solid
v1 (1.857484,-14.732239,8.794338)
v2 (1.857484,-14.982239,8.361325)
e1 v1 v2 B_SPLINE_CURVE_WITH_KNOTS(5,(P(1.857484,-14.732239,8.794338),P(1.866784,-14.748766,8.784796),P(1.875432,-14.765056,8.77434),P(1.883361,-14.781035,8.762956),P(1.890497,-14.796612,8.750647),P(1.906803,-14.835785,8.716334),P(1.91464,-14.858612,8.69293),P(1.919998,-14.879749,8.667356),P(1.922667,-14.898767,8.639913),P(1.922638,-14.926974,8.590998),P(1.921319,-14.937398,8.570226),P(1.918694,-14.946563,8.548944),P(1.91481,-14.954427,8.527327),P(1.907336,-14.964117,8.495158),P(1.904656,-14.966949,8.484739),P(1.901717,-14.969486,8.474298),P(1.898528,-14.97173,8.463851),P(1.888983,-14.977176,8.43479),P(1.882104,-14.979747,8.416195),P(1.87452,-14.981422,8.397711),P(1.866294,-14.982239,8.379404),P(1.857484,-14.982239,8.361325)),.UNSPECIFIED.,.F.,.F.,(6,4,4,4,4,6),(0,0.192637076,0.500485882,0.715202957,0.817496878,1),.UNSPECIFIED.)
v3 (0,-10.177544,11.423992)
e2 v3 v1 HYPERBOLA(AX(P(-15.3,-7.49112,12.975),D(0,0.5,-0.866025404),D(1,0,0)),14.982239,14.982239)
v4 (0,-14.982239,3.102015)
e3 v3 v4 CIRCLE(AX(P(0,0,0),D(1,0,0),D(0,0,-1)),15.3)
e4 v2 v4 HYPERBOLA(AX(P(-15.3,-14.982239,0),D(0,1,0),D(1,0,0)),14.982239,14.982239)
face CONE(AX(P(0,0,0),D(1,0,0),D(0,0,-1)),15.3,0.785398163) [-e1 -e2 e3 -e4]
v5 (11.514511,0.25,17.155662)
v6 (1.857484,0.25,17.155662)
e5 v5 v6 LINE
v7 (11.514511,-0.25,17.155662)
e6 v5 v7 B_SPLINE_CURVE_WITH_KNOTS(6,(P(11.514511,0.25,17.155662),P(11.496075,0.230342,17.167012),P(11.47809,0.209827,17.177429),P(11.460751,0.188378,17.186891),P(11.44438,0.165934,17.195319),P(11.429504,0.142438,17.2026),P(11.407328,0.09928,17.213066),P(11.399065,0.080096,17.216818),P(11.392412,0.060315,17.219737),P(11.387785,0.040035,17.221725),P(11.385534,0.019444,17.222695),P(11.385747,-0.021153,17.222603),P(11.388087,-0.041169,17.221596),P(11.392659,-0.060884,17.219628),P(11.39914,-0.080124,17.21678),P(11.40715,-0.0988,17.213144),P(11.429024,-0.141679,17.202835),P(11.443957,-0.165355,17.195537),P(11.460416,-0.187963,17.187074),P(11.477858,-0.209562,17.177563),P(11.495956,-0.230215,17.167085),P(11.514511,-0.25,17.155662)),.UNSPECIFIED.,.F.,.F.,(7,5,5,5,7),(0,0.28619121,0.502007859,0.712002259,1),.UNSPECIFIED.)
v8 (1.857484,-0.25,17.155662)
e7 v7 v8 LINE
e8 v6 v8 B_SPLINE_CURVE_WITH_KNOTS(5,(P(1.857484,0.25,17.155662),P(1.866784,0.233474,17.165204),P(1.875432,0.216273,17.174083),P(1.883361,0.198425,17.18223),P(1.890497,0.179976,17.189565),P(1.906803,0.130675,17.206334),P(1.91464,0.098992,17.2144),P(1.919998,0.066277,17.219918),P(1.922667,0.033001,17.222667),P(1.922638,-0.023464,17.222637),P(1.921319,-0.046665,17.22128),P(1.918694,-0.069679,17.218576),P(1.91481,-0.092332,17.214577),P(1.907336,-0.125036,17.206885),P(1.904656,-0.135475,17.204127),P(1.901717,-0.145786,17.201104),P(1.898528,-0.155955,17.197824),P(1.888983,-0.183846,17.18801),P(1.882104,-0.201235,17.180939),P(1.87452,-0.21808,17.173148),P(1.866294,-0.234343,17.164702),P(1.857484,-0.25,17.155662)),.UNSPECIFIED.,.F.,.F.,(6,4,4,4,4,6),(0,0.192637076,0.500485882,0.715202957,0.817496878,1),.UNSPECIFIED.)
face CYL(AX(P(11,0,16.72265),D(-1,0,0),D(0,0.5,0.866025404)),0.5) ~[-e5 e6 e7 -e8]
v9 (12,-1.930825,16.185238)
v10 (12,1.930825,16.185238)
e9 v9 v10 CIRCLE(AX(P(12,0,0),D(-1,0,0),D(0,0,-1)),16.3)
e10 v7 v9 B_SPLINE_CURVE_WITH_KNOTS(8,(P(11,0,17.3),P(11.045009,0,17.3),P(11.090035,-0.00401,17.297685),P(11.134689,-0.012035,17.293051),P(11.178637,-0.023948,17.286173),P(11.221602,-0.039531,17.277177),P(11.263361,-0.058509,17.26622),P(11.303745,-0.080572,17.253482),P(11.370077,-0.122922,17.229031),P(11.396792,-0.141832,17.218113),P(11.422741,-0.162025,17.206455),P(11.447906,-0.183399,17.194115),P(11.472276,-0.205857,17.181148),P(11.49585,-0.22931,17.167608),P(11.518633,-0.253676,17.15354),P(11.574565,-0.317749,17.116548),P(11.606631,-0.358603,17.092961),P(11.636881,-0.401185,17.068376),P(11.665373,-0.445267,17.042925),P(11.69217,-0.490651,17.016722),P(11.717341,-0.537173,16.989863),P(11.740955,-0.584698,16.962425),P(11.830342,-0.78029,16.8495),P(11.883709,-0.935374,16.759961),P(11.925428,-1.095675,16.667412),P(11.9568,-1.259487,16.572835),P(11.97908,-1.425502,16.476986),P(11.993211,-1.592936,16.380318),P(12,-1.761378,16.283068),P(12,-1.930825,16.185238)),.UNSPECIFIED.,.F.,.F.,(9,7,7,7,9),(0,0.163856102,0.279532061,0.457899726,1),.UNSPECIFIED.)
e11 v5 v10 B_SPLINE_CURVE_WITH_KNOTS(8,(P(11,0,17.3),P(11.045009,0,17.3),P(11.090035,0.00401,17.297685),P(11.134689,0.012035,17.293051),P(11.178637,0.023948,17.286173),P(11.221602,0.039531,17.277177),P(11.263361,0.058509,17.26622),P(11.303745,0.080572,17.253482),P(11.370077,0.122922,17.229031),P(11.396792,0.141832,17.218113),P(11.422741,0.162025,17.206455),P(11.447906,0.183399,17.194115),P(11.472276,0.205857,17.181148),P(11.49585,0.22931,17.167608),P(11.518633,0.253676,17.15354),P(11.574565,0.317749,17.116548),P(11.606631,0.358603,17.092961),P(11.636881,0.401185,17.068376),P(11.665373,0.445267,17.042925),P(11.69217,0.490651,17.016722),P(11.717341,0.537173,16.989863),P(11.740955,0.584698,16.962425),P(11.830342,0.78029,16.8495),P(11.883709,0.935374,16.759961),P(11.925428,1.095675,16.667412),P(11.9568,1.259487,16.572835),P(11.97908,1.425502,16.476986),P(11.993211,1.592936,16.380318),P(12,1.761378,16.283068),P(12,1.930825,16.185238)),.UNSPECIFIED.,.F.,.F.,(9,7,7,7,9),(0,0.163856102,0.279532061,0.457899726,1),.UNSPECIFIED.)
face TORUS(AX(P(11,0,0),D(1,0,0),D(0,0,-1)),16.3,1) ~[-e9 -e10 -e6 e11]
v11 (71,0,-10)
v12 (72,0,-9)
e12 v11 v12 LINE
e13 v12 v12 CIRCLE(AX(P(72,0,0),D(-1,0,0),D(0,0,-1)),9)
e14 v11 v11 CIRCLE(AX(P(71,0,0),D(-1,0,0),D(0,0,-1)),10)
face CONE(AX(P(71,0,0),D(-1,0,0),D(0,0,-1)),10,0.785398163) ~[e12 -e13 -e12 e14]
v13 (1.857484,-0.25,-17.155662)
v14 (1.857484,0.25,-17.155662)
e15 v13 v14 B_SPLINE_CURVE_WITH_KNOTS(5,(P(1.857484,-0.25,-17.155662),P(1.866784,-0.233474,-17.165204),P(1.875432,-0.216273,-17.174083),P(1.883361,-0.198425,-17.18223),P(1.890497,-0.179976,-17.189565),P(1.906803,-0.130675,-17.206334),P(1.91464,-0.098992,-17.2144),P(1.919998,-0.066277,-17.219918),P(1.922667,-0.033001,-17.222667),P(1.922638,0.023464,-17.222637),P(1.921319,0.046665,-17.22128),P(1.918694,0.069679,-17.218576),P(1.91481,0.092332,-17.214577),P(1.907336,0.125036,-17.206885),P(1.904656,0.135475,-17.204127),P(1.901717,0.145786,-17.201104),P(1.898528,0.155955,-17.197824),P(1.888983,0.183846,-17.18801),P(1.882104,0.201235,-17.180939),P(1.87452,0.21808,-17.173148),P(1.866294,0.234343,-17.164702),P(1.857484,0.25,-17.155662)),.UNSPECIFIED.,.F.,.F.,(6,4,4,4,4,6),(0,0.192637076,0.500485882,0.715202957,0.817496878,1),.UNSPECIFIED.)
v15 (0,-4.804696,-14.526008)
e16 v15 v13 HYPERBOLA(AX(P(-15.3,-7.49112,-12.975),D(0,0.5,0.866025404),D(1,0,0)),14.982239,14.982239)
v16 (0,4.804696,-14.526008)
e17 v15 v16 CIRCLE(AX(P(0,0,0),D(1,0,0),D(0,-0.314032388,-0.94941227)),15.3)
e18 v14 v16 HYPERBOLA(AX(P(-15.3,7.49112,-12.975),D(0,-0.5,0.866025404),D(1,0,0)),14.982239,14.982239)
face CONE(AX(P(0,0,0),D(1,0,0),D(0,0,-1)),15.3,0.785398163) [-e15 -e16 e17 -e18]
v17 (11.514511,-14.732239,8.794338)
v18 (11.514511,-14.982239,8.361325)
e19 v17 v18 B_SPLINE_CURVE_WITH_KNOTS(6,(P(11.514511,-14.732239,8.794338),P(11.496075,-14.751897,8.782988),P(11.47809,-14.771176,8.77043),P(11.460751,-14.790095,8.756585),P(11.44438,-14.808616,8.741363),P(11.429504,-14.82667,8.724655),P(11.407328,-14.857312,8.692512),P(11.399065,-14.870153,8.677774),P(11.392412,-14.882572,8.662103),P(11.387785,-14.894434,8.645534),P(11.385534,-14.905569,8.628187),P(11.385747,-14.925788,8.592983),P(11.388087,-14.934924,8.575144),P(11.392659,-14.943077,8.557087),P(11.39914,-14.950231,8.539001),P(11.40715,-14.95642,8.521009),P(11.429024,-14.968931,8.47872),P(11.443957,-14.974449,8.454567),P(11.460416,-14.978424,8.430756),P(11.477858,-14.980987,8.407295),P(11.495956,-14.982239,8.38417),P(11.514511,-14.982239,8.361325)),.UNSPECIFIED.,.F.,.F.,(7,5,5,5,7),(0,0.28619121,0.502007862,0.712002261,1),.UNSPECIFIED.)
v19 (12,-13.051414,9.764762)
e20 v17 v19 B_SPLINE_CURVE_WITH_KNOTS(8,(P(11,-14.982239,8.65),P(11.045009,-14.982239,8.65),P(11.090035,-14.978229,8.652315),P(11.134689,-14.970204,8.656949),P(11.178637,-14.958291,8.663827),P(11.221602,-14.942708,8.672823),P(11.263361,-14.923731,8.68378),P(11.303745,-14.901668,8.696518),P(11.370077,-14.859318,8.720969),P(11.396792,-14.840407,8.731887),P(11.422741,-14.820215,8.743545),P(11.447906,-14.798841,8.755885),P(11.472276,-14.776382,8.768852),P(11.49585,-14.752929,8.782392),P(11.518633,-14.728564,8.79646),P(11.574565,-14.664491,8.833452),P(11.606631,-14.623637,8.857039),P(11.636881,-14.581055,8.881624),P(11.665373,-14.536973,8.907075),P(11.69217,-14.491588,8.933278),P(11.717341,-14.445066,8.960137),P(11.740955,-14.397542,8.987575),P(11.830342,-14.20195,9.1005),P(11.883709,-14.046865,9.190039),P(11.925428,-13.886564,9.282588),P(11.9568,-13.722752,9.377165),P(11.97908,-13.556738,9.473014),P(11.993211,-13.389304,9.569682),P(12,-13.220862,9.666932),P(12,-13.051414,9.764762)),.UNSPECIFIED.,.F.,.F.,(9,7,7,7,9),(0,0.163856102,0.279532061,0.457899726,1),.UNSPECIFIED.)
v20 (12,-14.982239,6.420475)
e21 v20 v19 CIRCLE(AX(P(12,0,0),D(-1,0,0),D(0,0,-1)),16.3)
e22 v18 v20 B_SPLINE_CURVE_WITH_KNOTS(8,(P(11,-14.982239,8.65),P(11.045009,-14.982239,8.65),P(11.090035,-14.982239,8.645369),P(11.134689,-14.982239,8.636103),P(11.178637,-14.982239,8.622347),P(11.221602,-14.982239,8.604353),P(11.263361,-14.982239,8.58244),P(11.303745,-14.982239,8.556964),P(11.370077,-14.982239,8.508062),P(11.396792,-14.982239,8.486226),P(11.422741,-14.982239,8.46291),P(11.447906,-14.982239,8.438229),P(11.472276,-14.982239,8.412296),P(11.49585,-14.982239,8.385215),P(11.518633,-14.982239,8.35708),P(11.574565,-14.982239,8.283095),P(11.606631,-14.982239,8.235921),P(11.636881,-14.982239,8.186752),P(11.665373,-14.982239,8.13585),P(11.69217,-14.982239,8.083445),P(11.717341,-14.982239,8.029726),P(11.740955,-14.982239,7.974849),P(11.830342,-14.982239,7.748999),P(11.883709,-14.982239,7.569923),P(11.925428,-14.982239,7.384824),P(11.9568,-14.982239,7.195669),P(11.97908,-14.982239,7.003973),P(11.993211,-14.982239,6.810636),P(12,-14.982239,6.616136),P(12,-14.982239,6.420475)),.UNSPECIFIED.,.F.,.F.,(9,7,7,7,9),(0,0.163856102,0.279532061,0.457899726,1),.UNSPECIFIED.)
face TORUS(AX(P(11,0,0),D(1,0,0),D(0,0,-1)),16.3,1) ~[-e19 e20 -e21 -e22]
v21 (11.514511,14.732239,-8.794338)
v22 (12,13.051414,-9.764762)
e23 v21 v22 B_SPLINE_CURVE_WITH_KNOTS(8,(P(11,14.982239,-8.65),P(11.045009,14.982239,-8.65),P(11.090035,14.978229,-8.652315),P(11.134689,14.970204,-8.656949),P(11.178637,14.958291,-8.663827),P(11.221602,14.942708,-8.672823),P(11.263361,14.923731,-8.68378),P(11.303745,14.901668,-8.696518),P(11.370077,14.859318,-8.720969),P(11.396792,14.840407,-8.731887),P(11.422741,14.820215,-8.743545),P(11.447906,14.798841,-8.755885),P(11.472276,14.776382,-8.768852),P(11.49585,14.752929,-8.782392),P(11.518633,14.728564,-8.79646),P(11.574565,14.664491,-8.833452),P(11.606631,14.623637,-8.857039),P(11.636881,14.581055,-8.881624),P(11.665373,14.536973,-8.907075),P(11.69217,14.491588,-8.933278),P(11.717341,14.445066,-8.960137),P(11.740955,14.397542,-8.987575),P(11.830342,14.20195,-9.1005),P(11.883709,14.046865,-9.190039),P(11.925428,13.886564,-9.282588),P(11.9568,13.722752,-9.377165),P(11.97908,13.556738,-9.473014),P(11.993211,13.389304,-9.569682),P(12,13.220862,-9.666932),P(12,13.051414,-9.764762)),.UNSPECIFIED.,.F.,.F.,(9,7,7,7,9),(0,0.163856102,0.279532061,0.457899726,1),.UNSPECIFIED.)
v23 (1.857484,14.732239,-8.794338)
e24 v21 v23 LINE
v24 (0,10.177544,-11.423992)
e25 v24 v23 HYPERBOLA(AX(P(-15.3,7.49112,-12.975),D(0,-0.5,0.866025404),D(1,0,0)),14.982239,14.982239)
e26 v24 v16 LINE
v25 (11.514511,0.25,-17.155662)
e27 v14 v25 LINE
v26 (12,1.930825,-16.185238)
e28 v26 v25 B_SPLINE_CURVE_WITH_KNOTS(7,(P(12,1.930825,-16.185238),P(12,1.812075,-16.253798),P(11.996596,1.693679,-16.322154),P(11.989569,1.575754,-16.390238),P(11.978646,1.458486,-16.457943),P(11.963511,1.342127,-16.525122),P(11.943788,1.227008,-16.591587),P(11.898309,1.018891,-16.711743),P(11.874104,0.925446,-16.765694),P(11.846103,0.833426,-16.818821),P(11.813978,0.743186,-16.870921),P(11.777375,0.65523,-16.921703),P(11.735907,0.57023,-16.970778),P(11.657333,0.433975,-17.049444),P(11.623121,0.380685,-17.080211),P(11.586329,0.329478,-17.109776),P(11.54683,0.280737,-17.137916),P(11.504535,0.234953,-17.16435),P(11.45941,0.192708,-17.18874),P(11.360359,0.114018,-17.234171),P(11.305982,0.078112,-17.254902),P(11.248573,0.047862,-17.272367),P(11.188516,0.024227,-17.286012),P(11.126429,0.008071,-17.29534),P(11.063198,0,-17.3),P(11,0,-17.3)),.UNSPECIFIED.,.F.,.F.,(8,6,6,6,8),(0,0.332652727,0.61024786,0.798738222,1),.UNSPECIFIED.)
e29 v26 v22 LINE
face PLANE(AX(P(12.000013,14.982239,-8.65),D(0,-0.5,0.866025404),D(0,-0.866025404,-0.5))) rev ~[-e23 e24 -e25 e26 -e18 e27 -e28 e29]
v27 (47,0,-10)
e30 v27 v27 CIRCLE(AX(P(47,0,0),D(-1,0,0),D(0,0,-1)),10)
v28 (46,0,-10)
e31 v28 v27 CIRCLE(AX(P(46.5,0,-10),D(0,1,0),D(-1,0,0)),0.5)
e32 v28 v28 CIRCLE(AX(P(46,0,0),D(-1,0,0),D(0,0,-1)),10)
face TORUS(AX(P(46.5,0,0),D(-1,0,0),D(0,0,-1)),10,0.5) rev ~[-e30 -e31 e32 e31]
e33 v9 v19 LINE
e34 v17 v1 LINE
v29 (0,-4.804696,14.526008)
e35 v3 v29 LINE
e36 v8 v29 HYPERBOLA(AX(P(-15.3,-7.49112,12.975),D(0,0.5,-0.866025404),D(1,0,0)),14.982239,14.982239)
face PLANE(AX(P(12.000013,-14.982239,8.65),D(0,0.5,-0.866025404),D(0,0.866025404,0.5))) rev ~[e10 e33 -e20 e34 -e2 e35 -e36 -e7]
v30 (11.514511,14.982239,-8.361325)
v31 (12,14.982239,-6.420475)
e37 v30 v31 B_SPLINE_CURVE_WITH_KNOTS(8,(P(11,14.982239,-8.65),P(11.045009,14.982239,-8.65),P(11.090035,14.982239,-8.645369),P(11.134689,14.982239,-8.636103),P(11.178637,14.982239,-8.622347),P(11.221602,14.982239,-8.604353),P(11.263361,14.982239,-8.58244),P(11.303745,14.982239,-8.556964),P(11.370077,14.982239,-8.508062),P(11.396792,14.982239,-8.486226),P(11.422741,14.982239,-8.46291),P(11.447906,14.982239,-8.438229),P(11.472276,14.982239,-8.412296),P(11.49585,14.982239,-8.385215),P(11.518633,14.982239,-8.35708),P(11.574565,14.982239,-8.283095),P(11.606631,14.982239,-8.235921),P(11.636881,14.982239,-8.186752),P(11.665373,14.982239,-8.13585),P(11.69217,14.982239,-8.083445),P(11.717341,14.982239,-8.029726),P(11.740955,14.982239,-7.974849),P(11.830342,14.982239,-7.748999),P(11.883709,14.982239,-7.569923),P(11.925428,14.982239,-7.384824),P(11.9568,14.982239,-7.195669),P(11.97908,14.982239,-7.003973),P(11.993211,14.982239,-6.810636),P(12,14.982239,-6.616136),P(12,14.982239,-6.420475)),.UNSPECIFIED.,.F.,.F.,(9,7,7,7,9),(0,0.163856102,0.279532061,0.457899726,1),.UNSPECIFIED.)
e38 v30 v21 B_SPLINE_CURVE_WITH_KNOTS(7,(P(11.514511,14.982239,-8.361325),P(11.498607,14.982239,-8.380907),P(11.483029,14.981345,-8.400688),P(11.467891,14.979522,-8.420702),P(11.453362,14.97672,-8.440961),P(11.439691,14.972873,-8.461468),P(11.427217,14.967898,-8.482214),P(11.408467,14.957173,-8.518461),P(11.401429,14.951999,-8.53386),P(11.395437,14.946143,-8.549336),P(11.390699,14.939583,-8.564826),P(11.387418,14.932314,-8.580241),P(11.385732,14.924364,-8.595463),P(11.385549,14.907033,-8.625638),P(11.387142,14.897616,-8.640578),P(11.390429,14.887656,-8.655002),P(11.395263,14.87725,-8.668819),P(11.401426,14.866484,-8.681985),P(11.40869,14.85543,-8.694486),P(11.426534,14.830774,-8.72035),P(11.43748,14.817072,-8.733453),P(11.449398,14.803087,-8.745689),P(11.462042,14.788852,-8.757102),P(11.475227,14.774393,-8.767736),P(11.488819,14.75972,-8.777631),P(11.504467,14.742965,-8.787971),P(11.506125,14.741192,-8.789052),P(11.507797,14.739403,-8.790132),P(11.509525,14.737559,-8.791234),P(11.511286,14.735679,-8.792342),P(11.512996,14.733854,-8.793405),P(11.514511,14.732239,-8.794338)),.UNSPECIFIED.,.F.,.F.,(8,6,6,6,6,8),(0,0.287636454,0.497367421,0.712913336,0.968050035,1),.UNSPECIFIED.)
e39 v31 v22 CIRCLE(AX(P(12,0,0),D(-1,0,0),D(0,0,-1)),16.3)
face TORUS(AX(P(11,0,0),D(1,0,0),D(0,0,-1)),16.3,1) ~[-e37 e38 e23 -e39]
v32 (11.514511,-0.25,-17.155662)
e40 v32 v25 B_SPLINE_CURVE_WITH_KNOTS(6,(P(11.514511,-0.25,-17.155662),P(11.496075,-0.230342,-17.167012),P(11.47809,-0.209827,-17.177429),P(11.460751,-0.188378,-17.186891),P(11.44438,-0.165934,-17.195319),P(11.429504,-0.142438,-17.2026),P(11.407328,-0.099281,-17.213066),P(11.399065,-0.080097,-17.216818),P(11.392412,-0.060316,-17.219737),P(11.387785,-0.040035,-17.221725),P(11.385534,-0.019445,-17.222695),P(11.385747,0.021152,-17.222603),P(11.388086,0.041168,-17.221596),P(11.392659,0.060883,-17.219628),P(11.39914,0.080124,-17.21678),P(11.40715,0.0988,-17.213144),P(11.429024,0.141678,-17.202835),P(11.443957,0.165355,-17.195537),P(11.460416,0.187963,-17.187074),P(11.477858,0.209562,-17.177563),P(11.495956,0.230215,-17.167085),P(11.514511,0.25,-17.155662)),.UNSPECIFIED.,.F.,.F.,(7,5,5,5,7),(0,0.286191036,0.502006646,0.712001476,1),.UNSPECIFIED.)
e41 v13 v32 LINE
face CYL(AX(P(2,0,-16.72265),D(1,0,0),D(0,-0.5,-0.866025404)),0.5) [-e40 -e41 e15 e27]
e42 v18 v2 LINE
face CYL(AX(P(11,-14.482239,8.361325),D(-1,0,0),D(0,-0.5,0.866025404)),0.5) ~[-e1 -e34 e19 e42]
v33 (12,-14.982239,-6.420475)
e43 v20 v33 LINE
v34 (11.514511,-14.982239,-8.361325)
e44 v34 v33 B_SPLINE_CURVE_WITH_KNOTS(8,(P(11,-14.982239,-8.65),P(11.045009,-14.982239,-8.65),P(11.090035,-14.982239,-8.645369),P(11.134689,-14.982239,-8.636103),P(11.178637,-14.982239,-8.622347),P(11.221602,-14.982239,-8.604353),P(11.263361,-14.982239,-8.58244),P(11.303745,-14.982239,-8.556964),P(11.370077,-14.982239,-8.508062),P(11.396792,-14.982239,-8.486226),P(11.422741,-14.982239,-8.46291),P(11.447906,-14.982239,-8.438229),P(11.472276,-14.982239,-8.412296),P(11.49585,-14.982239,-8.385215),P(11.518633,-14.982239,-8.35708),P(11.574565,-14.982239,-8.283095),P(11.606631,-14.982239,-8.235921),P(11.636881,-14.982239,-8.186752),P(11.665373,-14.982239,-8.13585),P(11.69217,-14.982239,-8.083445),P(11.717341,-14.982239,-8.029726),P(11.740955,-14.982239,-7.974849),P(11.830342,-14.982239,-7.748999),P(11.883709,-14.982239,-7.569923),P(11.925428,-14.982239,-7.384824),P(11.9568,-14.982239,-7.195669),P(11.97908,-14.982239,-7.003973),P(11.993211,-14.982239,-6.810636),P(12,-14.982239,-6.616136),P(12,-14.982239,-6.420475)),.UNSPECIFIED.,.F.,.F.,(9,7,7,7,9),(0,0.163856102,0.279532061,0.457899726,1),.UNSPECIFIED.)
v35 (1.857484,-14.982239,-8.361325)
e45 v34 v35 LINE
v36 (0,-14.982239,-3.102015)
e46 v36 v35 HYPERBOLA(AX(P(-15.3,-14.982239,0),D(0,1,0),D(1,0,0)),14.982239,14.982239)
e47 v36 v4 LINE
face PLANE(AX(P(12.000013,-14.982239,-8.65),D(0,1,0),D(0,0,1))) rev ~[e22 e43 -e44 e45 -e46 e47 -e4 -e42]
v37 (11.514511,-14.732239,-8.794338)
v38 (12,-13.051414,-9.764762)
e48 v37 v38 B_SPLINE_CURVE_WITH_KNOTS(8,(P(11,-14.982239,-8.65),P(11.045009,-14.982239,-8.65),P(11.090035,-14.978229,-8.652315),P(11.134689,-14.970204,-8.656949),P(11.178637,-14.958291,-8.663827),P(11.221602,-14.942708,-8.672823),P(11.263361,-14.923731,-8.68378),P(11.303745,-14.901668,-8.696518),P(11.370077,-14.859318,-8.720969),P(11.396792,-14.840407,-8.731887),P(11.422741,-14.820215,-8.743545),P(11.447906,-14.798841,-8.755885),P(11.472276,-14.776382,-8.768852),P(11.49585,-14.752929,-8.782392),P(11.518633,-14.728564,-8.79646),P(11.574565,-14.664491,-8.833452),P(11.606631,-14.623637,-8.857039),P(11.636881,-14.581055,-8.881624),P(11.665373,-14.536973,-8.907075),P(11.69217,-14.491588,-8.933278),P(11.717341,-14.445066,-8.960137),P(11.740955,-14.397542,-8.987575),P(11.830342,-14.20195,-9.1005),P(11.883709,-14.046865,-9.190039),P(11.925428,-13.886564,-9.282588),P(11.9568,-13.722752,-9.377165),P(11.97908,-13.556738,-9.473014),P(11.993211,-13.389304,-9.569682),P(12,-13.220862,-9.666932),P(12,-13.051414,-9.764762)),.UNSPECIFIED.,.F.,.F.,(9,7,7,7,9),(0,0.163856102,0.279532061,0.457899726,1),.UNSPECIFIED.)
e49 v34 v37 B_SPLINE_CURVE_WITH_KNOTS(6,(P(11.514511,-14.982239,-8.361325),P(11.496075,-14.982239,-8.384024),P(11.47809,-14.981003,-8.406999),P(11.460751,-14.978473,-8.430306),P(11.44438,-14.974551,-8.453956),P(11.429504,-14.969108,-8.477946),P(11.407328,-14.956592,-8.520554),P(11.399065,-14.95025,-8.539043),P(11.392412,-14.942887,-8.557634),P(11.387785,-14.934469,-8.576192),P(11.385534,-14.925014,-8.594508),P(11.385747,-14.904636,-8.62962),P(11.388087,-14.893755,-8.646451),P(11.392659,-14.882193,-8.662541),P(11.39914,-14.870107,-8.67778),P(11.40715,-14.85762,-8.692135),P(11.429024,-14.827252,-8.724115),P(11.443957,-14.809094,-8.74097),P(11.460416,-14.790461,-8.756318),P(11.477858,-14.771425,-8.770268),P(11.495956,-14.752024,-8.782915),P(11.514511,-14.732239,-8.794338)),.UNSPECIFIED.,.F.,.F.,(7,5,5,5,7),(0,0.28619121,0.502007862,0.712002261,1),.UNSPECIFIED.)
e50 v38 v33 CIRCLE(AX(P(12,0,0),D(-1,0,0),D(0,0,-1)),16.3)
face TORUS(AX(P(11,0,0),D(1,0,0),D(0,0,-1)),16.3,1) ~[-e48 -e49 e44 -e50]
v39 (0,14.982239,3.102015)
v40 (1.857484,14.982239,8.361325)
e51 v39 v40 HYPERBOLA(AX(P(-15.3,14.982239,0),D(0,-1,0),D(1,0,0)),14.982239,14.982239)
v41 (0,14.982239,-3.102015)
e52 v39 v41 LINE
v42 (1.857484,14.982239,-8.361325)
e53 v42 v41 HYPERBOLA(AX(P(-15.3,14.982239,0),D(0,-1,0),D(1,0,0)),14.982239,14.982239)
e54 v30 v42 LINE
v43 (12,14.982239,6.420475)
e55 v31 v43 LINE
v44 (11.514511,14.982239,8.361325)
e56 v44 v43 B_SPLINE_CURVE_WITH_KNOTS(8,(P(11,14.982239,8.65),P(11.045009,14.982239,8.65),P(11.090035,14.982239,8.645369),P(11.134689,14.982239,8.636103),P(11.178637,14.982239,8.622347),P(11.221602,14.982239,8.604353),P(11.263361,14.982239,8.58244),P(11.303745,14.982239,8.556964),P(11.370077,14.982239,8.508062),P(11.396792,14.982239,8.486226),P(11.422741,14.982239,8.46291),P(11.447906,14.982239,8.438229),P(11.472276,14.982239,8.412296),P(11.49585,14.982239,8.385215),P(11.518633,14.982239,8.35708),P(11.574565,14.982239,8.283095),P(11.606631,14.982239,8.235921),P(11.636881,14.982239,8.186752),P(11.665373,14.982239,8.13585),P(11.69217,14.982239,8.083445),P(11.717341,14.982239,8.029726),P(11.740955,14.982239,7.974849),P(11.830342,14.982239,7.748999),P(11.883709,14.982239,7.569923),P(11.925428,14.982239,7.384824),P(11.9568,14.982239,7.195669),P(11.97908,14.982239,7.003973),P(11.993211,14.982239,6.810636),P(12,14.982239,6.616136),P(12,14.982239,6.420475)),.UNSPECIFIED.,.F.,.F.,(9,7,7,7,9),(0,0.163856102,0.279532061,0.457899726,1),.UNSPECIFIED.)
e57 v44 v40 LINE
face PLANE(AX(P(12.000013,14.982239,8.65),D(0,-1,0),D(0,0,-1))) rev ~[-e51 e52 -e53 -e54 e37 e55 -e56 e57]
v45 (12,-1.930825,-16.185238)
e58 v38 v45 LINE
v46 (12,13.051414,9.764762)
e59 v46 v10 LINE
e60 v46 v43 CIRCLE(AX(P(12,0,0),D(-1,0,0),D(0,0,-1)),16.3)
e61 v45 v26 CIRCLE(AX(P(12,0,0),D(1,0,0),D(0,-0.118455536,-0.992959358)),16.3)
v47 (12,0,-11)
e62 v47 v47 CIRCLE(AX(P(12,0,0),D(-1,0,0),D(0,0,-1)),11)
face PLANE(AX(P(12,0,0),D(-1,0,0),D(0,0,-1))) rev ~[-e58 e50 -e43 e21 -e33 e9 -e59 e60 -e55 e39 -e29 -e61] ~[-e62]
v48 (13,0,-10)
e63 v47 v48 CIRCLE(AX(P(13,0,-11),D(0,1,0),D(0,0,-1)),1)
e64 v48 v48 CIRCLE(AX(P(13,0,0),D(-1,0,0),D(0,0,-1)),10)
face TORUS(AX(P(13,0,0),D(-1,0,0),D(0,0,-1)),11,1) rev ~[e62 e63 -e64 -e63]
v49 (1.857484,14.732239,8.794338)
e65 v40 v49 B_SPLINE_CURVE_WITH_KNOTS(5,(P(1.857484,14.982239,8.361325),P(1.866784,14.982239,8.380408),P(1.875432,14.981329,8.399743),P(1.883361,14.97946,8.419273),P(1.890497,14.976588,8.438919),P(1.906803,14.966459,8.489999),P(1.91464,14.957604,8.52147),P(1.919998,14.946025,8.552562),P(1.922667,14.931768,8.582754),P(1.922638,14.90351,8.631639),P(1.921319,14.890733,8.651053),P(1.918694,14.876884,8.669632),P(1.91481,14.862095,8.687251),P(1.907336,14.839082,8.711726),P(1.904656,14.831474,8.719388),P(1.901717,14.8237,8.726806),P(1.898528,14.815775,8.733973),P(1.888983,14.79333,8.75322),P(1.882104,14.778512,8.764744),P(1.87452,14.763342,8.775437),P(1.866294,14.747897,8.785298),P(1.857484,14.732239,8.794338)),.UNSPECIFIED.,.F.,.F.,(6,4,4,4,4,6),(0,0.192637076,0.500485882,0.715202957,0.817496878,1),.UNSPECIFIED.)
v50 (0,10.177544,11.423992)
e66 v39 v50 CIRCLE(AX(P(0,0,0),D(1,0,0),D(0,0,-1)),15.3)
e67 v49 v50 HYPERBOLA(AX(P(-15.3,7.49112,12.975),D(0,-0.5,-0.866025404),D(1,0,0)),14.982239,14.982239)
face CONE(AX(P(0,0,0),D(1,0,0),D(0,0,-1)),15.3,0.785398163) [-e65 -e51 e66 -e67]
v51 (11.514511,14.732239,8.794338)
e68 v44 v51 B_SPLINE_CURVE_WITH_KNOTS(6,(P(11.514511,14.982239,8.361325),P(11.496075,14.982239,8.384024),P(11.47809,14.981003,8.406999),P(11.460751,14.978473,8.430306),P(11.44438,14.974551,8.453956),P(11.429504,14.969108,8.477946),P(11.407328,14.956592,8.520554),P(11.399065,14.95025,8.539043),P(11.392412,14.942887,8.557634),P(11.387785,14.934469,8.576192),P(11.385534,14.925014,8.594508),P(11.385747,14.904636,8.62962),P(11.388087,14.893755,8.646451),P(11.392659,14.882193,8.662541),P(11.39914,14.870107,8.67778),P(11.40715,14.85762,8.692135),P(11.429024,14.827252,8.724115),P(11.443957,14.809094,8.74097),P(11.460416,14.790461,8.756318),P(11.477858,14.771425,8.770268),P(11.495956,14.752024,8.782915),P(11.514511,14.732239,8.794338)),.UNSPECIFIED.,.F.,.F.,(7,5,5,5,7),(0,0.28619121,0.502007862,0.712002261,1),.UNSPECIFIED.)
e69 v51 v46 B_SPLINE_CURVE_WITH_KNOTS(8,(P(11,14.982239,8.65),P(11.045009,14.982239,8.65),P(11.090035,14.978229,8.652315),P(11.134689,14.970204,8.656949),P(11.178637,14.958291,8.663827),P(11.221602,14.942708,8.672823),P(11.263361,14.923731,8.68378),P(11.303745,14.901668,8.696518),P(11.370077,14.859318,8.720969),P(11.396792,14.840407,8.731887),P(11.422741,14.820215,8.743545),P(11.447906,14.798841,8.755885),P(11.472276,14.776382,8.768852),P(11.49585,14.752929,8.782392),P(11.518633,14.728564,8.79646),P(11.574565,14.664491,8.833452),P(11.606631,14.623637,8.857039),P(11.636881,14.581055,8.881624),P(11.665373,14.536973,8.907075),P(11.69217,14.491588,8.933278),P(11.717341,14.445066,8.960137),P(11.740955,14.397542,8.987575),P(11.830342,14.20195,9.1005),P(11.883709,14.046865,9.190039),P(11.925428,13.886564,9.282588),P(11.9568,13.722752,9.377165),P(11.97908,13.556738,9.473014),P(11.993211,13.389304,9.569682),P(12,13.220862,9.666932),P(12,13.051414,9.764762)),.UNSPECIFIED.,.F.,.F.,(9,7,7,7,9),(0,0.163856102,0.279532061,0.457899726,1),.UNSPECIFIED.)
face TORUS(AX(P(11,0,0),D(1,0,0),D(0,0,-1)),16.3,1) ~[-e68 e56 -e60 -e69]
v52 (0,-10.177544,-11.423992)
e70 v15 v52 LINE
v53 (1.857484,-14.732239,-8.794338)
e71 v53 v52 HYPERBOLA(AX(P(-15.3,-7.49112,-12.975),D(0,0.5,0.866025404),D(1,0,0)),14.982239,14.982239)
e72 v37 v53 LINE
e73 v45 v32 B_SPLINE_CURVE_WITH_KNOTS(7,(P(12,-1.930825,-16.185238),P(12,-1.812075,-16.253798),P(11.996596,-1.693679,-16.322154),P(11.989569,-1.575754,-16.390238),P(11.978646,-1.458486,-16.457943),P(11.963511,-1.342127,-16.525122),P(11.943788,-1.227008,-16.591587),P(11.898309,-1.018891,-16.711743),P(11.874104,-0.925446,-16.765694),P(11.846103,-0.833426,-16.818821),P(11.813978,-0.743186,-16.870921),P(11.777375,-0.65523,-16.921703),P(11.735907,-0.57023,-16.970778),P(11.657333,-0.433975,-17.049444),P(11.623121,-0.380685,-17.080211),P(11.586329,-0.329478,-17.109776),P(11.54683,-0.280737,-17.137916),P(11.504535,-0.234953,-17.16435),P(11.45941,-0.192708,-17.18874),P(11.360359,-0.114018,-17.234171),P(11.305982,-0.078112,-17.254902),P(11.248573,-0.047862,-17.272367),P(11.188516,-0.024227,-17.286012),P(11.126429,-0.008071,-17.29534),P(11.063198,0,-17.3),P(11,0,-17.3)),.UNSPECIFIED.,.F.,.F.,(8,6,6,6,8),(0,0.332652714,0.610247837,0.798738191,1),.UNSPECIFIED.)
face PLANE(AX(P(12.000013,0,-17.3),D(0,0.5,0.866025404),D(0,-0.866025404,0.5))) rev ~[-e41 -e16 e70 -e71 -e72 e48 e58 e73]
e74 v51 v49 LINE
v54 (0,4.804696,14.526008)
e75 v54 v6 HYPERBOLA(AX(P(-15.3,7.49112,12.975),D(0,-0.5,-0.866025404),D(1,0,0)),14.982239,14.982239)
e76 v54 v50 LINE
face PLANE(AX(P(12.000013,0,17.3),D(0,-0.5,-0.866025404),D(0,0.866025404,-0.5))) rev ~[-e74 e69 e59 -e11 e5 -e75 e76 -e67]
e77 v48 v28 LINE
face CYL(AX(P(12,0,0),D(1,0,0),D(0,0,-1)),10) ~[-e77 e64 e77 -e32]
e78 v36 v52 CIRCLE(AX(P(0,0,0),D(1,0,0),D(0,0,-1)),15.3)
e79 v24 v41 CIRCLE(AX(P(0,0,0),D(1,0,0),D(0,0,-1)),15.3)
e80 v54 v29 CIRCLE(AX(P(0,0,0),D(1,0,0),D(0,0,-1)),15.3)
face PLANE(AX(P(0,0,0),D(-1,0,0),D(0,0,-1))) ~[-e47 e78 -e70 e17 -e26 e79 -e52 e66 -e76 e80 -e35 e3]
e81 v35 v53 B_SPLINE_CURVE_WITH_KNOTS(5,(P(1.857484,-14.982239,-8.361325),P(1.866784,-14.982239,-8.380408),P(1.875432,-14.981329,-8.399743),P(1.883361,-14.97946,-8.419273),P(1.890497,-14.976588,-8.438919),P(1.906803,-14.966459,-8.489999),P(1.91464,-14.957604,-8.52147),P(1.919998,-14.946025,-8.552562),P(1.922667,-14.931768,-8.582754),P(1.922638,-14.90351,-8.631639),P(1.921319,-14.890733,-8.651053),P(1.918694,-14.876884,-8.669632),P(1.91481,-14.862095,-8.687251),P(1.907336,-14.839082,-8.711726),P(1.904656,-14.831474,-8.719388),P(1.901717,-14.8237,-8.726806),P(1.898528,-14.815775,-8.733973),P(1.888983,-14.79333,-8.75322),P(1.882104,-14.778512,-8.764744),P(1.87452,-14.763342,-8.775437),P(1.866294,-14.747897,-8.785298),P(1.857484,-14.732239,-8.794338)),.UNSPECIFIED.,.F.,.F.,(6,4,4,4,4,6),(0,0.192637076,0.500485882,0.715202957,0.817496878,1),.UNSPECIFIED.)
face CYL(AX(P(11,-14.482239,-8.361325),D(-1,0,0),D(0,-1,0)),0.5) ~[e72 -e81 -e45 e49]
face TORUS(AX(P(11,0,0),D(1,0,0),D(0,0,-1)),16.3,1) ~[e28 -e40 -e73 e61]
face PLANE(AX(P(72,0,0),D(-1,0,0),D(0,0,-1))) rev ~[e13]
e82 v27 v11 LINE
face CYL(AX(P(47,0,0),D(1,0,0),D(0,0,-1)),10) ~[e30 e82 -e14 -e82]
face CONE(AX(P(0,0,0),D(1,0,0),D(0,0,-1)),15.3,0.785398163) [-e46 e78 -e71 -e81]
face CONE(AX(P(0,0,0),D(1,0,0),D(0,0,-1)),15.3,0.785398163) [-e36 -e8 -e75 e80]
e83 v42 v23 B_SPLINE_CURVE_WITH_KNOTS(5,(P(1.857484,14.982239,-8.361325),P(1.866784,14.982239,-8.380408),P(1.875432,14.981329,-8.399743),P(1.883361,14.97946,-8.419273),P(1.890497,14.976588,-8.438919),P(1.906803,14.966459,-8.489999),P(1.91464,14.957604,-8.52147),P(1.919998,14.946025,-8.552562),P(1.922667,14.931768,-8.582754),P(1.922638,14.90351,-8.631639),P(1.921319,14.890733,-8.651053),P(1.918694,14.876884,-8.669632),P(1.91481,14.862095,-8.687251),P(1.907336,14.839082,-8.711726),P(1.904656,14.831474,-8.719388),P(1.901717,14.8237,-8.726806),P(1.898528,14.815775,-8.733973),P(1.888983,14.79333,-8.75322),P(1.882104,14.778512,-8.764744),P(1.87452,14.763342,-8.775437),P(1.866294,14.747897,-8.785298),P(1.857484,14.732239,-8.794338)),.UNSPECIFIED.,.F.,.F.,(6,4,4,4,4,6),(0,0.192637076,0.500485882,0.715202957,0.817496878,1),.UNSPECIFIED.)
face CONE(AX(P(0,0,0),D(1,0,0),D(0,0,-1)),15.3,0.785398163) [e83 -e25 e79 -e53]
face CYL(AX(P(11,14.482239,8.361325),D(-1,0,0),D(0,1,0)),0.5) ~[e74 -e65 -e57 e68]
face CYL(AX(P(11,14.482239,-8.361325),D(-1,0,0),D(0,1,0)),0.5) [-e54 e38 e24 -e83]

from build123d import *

# Parameters (mm, degrees)
REDONDEO1_R           = 1
CHAFL_N1_SIZE         = 1
CORTAR_EXTRUIR1_START = -12.000013
CROQUIS2_R            = 18.122324433
CORTAR_EXTRUIR1_DEPTH = 12.000014
REDONDEO3_R           = 0.5


with BuildPart() as part:
    # Croquis1 → Revolución1 (revolve)
    with BuildSketch(Plane.XY, mode=Mode.PRIVATE) as revoluci_n1_sk:
        with BuildLine():
            Line((0, 0), (0, 17.3))
            Line((0, 17.3), (12, 17.3))
            Line((12, 17.3), (12, 10))
            Line((12, 10), (46, 10))
            ThreePointArc((46, 10), (46.5, 9.5), (47, 10))
            Line((47, 10), (72, 10))
            Line((72, 10), (72, 0))
            Line((72, 0), (0, 0))
        make_face()
    revolve(revoluci_n1_sk.sketch.rotate(Axis((72, 0, 0), (-1, 0, 0)), 90), axis=Axis((72, 0, 0), (-1, 0, 0)))

    # Redondeo1
    redondeo1_edges = [part.edges().sort_by_distance(p)[0] for p in [
        (12, 0, 17.3),
        (12, 0, 10),
    ]]
    fillet(redondeo1_edges, radius=REDONDEO1_R)

    # Chaflán1
    chafl_n1_edges = [part.edges().sort_by_distance(p)[0] for p in [
        (72, 0, 10),
    ]]
    chamfer(chafl_n1_edges, length=CHAFL_N1_SIZE)

    # Croquis4 → Cortar-Revolución1 (revolve, cut)
    with BuildSketch(Plane.XY, mode=Mode.PRIVATE) as cortar_revoluci_n1_sk:
        Polygon((0, 17.3), (0, 15.3), (2, 17.3), align=None)
    revolve(cortar_revoluci_n1_sk.sketch.rotate(Axis((0, 0, 0), (1, 0, 0)), 270), axis=Axis((0, 0, 0), (1, 0, 0)), mode=Mode.SUBTRACT)

    # Croquis2 → Cortar-Extruir1 (cut)
    with BuildSketch(Plane.ZY.offset(CORTAR_EXTRUIR1_START)):
        Circle(CROQUIS2_R)
        Polygon((8.65, 14.982239485), (-8.65, 14.982239485), (-17.3, 0), (-8.65, -14.982239485), (8.65, -14.982239485), (17.3, 0), align=None, mode=Mode.SUBTRACT)
    extrude(amount=CORTAR_EXTRUIR1_DEPTH, mode=Mode.SUBTRACT)

    # Redondeo3
    redondeo3_edges = [part.edges().sort_by_distance(p)[0] for p in [
        (6.5, 14.982239485, 8.65),
        (6.5, 0, 17.3),
        (6.5, -14.982239485, 8.65),
        (6.5, 14.982239485, -8.65),
        (6.5, 0, -17.3),
        (6.5, -14.982239485, -8.65),
    ]]
    fillet(redondeo3_edges, radius=REDONDEO3_R)


solid = part.part
